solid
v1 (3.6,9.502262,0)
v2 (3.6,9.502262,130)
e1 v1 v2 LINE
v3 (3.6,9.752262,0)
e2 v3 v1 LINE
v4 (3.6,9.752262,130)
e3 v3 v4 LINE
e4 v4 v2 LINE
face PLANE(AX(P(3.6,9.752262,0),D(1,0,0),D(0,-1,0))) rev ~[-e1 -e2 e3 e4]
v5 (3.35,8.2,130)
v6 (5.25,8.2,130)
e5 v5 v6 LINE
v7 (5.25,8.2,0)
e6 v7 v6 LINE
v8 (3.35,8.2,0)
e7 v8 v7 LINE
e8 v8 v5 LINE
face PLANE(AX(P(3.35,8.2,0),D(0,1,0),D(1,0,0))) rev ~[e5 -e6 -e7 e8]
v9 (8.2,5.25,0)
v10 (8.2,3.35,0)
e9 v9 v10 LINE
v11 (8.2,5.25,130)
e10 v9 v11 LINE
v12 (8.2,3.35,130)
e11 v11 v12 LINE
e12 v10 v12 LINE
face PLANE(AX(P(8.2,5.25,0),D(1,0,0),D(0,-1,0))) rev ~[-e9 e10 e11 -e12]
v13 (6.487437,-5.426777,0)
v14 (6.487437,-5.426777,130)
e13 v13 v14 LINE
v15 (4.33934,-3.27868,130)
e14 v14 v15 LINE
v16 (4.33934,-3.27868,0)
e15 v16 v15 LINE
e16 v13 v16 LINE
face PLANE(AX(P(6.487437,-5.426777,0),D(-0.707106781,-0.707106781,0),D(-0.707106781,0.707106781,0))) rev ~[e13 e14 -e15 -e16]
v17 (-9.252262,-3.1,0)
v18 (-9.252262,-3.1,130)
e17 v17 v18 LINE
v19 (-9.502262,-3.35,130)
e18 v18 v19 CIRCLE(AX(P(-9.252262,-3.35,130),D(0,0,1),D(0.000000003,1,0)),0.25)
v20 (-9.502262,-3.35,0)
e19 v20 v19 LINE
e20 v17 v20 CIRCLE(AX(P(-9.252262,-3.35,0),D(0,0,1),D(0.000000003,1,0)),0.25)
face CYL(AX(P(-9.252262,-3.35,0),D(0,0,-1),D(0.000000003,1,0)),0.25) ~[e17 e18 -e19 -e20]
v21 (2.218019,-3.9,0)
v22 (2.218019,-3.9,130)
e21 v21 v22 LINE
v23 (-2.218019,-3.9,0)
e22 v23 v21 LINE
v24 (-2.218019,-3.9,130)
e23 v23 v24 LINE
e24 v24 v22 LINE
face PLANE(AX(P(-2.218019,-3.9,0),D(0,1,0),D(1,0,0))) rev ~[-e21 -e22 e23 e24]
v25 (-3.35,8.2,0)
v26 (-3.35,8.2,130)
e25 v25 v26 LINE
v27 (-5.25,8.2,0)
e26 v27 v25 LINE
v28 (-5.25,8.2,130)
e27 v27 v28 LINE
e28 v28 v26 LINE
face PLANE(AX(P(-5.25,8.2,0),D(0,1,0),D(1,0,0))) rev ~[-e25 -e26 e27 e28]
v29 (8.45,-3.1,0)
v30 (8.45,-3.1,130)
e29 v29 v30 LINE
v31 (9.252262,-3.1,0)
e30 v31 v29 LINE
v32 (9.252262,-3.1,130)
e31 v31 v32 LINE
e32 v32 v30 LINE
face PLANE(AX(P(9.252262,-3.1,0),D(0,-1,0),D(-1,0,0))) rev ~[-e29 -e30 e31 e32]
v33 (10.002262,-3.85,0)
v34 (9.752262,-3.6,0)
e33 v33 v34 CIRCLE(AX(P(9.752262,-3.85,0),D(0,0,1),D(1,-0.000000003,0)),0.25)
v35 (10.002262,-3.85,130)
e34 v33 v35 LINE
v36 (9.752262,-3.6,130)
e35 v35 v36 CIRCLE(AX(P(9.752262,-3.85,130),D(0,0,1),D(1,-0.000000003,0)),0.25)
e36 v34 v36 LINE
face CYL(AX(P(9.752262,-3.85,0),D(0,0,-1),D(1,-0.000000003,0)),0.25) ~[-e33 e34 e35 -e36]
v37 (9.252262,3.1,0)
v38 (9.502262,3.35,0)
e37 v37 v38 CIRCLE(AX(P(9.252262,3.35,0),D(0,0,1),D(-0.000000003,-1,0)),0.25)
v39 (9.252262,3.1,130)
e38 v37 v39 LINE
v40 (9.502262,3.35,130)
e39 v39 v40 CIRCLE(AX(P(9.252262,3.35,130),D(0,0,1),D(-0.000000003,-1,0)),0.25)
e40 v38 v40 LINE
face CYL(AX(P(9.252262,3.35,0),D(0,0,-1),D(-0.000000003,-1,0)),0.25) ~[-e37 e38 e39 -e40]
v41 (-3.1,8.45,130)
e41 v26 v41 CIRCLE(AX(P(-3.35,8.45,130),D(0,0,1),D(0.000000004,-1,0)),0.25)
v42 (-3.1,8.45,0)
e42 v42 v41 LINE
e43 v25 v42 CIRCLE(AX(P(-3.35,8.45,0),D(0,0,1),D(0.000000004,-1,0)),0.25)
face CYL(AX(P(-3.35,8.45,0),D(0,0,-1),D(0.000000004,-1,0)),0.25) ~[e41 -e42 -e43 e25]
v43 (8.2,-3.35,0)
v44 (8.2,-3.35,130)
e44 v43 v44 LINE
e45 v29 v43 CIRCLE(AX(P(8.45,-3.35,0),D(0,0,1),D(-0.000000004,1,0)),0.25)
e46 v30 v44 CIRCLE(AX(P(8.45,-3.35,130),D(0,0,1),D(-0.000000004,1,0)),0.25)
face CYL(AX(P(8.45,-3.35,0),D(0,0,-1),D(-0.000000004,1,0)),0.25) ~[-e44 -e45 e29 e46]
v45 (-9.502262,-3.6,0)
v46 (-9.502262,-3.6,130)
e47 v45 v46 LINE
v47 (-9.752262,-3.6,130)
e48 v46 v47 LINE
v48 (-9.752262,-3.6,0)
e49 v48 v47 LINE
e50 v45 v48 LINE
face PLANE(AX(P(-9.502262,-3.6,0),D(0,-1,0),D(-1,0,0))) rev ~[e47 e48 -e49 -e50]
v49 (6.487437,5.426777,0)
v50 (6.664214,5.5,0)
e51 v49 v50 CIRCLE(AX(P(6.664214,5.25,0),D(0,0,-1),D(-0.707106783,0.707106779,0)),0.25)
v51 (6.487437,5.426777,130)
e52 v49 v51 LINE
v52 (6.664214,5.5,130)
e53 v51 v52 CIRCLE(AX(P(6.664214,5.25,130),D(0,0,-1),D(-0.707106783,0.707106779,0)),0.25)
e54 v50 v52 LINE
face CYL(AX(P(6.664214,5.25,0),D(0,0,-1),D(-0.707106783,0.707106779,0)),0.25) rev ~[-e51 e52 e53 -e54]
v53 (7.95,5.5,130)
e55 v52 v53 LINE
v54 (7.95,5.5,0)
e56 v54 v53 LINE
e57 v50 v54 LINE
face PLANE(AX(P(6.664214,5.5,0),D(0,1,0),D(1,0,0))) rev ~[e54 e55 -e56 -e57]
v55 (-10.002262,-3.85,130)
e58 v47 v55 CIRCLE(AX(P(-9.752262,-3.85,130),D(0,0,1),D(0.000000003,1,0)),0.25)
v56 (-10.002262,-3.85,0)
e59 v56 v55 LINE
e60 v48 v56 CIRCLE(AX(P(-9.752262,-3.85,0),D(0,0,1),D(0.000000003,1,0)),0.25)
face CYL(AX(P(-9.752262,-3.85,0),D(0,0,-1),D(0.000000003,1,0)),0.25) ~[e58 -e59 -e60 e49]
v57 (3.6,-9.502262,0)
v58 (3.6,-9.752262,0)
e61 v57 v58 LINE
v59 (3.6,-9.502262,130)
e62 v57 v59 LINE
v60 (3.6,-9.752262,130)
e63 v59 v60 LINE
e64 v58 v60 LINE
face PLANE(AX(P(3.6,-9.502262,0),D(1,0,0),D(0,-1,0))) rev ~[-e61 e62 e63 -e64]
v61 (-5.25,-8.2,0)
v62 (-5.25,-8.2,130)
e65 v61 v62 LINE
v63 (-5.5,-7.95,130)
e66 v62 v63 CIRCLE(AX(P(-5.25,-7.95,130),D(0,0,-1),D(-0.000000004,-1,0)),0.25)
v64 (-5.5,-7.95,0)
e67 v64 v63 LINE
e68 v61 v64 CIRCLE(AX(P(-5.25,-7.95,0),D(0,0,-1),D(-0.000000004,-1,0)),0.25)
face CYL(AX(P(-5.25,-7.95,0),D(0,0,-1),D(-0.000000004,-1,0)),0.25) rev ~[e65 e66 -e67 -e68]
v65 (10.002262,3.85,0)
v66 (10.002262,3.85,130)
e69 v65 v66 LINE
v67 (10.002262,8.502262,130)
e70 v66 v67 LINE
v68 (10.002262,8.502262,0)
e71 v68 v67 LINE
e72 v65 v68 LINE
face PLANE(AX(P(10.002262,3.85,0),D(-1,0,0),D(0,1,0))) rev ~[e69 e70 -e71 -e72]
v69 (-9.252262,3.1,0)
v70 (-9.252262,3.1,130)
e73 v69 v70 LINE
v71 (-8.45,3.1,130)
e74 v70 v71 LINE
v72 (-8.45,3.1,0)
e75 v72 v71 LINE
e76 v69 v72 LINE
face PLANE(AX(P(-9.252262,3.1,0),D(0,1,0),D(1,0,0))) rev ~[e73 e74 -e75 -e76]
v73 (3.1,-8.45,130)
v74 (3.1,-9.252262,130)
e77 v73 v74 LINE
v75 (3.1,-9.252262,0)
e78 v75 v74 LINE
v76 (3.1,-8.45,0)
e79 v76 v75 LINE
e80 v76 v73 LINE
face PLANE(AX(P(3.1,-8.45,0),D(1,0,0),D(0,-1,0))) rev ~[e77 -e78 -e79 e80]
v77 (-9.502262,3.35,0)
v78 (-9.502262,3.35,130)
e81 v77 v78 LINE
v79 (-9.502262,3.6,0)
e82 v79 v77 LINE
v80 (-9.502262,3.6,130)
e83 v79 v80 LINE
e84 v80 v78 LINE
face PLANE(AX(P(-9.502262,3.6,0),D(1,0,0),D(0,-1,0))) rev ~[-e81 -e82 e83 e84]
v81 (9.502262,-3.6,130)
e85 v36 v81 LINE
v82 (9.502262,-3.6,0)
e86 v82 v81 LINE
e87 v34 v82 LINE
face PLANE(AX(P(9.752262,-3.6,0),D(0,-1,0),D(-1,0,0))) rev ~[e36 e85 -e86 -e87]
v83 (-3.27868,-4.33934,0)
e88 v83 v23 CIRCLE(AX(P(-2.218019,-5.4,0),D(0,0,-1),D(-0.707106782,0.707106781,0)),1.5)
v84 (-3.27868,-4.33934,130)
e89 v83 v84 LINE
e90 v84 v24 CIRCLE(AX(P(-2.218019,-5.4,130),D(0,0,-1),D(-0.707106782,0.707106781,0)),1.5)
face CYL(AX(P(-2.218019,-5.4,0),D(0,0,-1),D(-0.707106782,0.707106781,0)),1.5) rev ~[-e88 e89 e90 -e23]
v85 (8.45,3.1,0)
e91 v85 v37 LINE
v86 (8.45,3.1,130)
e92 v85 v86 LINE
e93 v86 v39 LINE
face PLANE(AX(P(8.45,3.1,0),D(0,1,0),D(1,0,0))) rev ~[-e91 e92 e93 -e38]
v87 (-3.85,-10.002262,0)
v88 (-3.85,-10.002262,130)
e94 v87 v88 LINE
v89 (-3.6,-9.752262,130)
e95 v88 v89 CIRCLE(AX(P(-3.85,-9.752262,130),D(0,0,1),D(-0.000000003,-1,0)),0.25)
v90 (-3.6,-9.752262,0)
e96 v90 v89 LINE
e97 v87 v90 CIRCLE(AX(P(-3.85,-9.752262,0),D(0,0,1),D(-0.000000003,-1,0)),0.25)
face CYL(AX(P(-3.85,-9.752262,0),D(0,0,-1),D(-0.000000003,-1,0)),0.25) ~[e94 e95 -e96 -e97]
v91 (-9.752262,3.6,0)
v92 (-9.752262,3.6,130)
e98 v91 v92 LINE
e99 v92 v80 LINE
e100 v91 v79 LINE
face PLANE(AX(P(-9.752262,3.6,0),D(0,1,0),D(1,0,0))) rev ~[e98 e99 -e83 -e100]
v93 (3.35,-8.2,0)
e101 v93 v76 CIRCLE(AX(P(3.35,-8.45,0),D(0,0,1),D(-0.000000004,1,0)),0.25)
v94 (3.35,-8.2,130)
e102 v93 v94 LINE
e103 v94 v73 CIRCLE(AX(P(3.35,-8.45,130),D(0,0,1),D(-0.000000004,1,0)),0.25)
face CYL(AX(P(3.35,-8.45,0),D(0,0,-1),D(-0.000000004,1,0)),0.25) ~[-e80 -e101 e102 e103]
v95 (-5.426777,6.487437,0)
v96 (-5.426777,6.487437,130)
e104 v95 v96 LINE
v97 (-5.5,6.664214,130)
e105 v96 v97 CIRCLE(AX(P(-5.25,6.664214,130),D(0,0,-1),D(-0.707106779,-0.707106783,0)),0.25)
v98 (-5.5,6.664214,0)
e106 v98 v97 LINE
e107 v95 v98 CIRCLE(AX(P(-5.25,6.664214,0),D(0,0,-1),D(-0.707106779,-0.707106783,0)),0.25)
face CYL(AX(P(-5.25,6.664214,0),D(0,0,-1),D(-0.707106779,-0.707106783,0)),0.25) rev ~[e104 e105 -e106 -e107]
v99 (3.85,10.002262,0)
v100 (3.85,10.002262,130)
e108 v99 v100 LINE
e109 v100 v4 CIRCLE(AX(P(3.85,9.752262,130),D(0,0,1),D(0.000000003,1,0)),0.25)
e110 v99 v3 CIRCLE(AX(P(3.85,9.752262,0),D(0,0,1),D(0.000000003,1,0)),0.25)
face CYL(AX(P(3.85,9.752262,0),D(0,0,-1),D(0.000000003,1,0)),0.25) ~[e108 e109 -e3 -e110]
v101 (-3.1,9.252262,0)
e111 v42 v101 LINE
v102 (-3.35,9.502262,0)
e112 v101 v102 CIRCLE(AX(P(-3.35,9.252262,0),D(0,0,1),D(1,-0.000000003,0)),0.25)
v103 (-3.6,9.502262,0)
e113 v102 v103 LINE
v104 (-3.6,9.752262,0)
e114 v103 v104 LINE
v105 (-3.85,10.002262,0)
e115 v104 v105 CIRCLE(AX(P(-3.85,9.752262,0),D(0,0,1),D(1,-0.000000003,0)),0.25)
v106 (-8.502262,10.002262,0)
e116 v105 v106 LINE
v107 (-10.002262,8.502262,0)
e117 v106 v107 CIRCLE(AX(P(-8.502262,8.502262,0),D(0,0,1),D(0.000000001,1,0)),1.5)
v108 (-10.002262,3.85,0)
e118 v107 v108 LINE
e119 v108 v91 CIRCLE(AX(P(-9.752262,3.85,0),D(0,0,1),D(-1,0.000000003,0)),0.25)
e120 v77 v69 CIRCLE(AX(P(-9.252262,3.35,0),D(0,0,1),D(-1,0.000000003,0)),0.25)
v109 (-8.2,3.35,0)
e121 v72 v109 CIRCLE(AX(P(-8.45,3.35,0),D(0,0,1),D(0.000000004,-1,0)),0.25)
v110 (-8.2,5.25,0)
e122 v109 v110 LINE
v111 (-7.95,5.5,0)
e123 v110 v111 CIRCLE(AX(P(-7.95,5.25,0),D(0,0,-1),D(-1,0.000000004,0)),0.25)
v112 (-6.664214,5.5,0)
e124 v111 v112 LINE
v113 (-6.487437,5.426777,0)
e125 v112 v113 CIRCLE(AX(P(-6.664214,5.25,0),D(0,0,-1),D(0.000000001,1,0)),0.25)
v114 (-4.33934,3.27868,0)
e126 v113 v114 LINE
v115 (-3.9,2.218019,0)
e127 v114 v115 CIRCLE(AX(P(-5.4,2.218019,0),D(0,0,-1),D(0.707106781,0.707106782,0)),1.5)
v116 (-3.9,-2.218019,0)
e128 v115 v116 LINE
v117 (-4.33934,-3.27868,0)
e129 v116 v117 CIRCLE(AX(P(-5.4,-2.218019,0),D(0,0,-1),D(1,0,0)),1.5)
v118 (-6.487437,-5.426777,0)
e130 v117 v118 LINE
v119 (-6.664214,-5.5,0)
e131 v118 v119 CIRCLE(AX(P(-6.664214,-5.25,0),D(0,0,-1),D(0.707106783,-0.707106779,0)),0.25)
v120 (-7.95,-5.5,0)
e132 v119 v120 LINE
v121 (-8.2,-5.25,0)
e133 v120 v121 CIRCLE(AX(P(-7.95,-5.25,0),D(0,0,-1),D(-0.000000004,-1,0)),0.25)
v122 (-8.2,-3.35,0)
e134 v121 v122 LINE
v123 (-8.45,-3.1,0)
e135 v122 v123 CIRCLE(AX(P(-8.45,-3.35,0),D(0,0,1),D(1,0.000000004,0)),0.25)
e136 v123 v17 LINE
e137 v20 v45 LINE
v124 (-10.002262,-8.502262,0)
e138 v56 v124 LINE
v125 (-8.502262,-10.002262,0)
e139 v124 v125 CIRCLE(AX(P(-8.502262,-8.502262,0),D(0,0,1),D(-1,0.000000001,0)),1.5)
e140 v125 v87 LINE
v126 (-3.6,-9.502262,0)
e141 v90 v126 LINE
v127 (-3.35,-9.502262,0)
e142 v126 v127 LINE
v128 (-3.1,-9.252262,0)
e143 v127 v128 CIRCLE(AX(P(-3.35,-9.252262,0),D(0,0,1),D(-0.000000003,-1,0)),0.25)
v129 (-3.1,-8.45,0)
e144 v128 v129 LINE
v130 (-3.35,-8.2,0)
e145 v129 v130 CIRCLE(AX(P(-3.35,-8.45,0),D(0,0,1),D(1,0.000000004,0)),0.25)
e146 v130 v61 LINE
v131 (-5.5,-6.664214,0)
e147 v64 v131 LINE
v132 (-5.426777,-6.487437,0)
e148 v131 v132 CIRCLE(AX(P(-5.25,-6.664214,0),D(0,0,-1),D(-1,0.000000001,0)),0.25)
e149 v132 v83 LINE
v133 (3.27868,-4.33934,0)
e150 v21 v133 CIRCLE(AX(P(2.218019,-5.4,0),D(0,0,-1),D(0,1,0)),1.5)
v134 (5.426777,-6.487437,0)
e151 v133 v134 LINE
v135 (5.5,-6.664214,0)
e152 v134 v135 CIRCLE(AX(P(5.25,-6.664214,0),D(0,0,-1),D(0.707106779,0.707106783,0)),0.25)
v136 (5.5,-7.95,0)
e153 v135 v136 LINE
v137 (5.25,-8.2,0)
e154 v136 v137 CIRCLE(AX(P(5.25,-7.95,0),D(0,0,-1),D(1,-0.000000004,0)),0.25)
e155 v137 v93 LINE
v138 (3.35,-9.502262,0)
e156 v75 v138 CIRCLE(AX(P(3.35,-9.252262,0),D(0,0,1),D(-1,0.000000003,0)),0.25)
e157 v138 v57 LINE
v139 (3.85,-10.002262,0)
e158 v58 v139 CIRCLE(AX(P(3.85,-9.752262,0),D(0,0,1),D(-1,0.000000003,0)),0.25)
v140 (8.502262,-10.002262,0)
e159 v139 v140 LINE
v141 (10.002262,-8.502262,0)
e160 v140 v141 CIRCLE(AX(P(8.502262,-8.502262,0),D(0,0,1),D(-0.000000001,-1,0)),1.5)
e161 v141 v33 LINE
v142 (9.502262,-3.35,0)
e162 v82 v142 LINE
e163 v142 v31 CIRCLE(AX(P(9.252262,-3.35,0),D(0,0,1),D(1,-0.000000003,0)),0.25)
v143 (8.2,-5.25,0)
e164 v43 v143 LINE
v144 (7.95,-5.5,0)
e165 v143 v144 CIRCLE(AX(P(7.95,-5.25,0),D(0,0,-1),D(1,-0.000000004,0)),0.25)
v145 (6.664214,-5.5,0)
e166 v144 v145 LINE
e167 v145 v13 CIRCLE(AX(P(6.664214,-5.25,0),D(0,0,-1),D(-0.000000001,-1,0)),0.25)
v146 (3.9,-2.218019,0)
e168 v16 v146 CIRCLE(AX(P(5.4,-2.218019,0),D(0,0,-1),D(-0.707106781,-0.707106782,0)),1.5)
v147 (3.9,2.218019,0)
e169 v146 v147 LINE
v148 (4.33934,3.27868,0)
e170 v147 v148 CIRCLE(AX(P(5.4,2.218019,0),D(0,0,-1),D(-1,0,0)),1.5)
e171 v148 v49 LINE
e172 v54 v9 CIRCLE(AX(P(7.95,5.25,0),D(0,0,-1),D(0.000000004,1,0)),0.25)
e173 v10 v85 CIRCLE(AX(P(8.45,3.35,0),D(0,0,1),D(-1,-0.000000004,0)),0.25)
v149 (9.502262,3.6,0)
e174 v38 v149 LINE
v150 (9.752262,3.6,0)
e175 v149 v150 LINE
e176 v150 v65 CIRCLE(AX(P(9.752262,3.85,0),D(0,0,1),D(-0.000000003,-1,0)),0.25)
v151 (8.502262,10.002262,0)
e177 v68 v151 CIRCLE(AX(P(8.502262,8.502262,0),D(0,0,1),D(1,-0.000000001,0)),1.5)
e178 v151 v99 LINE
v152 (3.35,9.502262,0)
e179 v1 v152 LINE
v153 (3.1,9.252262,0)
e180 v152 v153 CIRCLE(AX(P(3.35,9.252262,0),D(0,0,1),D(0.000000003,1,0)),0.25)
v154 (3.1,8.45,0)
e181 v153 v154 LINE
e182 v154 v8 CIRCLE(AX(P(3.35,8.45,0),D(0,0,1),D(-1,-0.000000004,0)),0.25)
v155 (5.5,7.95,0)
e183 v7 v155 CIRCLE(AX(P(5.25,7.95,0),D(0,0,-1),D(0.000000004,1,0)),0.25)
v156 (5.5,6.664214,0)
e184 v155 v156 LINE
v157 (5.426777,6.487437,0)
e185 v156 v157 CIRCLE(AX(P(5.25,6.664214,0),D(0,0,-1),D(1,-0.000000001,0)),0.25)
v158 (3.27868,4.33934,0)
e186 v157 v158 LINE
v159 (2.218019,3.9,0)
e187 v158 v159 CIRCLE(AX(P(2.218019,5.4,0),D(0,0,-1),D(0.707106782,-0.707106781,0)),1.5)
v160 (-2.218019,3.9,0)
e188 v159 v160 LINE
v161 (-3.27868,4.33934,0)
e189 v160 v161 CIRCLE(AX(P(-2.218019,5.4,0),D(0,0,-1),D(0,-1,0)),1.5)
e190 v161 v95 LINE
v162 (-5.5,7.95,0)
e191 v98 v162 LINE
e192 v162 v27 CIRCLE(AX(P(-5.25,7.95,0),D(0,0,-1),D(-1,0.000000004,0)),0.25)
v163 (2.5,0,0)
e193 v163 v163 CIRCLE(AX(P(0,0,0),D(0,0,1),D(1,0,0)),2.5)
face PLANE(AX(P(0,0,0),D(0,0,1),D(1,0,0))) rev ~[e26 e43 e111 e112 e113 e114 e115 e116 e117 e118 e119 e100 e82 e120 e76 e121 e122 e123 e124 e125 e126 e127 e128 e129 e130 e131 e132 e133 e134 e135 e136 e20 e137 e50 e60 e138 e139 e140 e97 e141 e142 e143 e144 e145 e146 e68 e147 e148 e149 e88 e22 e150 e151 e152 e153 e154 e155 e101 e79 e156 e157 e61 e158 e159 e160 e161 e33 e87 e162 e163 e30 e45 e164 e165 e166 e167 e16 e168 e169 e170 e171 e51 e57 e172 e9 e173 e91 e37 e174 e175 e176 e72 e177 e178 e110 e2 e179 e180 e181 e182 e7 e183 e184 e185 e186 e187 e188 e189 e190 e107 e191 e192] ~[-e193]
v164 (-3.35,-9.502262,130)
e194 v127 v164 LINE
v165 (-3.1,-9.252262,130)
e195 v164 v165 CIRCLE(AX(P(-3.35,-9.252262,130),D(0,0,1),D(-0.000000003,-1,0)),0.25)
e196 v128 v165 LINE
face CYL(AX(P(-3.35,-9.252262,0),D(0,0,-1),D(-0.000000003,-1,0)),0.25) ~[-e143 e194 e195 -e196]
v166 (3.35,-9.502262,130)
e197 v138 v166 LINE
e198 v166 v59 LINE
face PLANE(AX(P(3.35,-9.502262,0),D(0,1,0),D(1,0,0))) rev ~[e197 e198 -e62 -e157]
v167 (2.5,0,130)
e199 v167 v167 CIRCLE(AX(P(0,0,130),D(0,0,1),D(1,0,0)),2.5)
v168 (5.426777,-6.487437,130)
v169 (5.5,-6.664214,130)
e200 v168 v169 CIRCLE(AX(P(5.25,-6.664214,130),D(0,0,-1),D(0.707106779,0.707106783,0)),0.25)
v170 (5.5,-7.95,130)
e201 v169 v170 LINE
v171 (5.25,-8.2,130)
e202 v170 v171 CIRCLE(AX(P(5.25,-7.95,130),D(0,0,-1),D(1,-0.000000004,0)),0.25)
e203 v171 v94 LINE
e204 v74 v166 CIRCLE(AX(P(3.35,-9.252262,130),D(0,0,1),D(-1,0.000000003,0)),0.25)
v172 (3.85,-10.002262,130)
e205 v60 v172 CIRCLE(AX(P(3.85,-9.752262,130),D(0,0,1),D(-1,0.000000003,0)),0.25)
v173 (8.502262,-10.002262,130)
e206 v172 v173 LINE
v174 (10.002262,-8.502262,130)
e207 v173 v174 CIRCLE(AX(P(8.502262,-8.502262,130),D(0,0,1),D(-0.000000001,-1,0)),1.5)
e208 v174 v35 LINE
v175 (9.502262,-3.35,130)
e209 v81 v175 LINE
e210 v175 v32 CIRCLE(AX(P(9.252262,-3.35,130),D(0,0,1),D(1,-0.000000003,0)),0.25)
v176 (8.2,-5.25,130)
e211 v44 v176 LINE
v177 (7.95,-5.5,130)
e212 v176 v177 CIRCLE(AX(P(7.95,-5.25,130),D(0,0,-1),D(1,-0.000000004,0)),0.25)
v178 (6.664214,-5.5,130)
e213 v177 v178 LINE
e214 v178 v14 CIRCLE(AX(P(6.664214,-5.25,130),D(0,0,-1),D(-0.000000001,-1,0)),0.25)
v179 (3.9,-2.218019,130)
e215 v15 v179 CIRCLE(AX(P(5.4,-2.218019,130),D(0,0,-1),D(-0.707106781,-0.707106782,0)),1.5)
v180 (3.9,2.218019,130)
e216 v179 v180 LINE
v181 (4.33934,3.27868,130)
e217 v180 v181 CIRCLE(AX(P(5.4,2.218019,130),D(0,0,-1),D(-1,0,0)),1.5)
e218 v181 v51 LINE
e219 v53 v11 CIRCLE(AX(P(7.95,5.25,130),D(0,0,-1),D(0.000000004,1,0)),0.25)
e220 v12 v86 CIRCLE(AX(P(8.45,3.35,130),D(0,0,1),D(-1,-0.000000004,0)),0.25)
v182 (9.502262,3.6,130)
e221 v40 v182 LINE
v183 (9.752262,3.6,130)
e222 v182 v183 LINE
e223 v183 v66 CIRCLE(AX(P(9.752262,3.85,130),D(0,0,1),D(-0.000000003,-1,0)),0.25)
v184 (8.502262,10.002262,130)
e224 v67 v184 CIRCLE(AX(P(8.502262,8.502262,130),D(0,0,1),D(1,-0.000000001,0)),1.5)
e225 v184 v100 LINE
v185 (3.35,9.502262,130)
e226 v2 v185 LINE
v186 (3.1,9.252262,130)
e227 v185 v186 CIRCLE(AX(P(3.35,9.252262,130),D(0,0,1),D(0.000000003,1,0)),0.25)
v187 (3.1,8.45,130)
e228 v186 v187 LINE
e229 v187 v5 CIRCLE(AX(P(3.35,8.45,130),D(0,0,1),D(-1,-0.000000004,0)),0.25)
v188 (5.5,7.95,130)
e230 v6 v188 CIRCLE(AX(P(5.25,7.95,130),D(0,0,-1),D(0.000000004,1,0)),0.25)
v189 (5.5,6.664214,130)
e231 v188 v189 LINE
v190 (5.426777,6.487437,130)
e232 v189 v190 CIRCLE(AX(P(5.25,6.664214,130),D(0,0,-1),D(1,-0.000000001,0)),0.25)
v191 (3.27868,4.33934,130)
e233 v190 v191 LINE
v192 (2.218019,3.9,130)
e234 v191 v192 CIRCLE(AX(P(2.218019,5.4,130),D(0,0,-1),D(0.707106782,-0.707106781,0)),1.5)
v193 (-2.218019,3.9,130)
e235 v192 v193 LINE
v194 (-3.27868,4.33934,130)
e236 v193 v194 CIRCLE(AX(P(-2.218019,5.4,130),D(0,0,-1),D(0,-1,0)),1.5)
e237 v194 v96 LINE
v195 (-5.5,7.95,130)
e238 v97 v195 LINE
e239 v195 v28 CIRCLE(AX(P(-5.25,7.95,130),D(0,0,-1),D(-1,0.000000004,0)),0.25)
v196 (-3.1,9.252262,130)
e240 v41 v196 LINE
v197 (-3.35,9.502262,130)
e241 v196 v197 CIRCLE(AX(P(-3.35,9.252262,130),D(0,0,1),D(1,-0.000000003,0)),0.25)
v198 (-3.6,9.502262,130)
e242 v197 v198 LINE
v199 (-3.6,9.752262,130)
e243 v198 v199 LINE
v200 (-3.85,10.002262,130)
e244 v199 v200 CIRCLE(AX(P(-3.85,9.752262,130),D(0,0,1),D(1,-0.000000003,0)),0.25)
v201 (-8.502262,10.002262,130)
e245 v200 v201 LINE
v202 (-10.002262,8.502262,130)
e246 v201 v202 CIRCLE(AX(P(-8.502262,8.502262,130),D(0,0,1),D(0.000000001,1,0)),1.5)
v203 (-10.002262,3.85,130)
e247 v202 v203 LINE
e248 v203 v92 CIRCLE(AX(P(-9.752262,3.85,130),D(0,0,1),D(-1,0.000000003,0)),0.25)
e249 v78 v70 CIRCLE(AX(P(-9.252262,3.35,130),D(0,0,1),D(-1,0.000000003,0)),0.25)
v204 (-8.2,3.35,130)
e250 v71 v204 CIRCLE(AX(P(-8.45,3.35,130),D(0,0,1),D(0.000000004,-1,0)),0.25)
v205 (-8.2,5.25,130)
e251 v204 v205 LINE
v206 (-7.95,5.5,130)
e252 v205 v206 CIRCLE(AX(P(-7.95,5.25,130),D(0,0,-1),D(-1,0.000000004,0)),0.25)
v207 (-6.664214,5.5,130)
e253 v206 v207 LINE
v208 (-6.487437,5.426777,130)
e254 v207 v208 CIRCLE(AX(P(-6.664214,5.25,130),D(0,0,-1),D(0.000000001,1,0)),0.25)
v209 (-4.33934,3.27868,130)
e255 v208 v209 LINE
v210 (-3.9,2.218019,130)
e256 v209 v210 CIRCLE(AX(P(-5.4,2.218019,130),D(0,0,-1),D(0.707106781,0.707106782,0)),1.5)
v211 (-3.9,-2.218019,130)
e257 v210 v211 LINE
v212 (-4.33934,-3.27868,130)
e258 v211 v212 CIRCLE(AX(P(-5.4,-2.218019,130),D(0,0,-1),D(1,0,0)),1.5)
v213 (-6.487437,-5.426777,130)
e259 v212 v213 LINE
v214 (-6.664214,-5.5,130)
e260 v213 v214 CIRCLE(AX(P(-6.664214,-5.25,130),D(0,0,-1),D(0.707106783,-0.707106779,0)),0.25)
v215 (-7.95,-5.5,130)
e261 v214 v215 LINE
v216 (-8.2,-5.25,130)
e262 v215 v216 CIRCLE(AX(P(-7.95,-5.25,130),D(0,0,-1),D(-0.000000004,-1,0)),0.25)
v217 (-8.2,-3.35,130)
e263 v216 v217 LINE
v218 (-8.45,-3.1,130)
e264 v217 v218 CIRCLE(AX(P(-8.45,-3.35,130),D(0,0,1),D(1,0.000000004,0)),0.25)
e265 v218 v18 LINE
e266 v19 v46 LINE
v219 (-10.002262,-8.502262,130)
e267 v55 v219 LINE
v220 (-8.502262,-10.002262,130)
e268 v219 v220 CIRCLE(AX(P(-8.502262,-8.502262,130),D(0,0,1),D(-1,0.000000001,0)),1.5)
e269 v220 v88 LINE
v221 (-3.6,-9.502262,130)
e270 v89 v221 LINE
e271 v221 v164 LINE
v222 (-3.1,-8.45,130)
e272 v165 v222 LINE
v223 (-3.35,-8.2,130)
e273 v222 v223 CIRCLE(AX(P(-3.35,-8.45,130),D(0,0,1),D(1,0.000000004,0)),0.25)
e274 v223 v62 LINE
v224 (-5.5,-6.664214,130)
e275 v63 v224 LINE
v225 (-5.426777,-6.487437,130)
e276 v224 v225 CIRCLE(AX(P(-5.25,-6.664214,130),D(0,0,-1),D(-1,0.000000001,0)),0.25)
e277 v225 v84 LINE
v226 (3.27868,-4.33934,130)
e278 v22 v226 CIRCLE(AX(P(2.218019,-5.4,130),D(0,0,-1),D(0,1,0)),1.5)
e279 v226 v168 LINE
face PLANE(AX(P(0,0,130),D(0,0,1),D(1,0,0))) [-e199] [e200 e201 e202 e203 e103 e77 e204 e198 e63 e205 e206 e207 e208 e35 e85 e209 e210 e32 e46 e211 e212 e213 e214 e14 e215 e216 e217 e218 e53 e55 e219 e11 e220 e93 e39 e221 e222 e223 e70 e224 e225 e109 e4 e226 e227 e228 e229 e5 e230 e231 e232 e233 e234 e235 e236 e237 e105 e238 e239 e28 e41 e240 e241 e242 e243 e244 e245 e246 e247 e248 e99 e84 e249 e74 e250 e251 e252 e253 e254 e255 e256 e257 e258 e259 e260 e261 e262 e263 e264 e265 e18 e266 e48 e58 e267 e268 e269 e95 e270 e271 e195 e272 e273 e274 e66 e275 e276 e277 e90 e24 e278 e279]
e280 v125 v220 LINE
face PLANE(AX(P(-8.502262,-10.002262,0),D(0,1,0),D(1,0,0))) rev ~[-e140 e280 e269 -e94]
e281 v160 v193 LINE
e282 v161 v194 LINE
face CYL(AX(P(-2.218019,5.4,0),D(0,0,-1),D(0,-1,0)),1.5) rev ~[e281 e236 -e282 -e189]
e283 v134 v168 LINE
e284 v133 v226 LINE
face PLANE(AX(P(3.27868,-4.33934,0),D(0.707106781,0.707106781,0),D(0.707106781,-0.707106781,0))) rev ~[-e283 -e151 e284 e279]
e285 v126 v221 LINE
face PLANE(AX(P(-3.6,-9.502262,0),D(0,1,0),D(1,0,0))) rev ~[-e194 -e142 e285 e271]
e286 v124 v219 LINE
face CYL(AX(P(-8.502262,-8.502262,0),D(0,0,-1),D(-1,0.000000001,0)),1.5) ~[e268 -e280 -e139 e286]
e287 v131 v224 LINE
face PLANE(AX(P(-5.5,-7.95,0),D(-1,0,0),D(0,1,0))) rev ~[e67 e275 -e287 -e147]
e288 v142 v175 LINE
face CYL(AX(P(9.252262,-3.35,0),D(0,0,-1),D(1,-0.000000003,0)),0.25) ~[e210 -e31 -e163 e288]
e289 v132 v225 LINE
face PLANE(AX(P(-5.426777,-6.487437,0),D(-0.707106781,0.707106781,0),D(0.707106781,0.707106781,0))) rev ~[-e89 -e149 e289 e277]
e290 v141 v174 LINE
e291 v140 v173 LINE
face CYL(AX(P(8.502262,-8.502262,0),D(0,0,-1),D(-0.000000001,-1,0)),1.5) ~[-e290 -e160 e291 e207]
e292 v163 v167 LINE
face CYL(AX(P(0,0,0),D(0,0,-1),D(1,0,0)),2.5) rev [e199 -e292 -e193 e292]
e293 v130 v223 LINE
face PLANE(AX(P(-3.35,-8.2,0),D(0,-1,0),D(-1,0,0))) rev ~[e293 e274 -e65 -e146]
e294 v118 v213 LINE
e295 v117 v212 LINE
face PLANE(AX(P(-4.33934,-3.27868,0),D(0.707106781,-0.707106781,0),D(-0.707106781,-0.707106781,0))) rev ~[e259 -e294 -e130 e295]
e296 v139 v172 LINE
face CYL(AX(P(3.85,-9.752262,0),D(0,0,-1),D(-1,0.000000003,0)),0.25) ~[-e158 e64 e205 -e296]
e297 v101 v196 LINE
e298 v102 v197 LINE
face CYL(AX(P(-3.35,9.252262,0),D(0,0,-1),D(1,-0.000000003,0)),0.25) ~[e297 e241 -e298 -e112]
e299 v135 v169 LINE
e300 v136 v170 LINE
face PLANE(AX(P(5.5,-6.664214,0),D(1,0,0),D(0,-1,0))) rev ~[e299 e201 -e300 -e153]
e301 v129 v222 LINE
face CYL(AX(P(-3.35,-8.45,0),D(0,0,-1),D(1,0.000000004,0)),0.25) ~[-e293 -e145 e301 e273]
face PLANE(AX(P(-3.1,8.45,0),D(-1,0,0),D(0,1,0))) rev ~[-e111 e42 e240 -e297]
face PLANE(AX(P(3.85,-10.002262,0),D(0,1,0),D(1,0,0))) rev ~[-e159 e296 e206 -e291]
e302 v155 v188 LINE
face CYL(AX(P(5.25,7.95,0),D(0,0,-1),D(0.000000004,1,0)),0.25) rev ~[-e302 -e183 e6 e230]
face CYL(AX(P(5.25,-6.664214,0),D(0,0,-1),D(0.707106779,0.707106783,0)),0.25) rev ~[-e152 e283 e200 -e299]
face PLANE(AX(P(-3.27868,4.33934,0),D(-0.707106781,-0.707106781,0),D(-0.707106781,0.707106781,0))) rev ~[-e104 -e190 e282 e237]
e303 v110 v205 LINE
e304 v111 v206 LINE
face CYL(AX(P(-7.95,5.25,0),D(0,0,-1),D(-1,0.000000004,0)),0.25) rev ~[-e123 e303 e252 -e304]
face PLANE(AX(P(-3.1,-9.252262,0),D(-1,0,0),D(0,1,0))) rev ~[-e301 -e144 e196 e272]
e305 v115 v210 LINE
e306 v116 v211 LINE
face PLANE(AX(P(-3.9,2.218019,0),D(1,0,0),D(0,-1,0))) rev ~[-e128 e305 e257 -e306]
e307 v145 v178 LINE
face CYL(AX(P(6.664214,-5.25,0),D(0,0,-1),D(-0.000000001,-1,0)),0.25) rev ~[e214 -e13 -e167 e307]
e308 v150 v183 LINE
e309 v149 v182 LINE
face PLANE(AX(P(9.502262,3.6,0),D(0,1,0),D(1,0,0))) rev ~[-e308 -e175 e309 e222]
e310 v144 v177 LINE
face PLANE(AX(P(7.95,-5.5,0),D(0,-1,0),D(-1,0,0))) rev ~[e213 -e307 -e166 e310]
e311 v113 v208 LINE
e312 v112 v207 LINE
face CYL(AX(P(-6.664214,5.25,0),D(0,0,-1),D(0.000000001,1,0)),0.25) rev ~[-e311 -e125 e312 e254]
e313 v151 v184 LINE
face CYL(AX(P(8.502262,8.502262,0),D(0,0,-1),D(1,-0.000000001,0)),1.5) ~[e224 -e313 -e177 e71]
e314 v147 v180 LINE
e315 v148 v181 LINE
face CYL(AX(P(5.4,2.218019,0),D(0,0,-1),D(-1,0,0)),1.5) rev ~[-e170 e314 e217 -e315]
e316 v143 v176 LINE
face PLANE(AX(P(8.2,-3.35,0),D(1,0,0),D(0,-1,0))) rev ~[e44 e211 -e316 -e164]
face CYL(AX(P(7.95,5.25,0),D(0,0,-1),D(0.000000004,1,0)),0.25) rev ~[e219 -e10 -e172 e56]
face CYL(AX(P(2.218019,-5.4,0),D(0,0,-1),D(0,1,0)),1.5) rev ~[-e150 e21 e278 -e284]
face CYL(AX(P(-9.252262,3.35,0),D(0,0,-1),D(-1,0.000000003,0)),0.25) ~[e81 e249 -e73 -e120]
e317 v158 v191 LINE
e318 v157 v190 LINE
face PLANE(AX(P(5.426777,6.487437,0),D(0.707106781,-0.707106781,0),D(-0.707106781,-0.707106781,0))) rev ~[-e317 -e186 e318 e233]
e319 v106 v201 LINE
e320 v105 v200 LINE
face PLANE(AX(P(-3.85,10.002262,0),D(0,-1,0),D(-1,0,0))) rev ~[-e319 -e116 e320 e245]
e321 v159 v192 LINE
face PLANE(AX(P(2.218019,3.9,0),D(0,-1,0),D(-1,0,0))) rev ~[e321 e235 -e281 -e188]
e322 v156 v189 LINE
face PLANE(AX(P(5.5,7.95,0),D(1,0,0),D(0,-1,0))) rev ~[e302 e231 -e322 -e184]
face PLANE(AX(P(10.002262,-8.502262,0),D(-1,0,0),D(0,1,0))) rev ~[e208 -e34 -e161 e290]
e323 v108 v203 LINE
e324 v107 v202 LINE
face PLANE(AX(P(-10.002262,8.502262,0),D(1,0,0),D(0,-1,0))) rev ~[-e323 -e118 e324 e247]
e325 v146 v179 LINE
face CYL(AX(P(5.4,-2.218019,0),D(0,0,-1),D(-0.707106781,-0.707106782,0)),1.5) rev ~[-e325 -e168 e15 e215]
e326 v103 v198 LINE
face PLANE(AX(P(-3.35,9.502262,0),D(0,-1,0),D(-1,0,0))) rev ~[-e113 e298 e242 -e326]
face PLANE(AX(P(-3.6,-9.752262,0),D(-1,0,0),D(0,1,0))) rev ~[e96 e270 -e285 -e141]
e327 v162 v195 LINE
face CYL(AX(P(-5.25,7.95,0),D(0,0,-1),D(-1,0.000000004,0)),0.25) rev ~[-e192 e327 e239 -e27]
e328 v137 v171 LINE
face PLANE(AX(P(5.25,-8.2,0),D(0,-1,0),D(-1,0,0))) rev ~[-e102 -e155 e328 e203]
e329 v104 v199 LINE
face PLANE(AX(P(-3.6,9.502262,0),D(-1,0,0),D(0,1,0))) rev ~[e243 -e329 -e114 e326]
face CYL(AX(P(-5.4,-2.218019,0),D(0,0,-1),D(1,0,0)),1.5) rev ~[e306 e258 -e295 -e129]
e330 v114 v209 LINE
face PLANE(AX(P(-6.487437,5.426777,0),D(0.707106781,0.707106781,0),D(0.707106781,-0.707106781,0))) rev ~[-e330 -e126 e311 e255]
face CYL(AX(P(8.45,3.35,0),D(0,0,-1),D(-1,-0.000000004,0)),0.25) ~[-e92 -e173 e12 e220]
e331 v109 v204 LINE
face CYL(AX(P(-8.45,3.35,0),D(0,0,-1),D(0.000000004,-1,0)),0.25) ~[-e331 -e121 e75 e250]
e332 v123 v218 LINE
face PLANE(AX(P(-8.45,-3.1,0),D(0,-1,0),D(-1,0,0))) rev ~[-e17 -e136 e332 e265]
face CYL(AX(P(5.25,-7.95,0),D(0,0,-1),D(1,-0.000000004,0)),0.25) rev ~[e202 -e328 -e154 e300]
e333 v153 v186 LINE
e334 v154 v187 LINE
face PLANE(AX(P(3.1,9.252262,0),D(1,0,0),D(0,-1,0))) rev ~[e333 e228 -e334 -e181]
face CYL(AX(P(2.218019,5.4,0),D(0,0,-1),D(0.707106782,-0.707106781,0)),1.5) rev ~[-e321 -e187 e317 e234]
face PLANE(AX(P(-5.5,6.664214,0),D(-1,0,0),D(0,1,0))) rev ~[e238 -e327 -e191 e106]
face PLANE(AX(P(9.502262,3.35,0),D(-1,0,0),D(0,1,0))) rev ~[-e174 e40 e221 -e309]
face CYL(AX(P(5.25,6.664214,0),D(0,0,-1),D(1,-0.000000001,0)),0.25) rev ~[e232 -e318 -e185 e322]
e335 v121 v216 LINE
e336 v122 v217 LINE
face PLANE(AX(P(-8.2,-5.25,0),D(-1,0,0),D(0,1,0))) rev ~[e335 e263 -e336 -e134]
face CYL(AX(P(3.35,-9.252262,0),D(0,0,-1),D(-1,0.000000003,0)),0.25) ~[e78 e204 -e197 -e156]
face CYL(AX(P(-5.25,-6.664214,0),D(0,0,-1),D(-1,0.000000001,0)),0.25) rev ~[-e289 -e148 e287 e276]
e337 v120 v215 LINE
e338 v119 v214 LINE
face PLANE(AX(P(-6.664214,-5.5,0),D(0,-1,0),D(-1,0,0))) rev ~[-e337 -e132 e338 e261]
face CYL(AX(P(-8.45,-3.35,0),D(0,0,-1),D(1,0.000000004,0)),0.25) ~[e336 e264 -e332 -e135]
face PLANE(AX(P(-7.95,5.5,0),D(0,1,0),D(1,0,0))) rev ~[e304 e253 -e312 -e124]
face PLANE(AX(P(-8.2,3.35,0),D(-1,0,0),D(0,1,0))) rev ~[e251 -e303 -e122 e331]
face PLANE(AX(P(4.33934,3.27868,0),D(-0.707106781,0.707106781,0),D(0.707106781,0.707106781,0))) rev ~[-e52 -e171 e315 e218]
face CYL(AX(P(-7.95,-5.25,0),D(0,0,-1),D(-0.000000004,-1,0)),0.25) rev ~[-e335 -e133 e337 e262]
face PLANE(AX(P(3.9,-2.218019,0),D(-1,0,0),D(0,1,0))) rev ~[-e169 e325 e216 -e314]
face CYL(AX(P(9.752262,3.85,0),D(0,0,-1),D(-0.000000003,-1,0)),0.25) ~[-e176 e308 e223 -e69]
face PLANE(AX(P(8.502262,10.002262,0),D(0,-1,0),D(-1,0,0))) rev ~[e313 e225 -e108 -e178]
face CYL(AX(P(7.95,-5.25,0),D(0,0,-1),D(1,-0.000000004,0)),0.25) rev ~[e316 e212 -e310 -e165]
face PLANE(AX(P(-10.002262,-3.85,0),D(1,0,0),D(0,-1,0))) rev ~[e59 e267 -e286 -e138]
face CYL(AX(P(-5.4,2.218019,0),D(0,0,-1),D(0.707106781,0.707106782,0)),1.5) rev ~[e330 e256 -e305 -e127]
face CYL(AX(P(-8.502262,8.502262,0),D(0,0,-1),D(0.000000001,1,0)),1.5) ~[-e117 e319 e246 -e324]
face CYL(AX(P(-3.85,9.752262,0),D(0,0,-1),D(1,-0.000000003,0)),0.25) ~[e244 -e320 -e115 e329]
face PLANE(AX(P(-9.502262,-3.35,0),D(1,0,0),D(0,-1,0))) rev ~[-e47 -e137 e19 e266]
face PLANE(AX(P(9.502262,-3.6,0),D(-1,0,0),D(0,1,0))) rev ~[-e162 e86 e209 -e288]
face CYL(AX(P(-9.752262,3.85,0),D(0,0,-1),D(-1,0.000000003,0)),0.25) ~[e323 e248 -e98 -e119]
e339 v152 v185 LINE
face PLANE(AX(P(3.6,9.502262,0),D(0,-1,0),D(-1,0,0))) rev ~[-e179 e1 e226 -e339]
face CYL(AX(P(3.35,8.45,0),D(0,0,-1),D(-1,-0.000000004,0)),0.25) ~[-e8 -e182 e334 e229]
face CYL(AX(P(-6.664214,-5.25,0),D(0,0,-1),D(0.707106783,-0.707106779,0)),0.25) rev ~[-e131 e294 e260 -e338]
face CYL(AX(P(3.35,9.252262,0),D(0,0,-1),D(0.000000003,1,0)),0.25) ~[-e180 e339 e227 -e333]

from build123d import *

# Parameters (mm, degrees)
SKETCH_1_R      = 2.5
EXTRUDE_1_DEPTH = 130


with BuildPart() as part:
    # 草图1 → 凸台-拉伸1 (new body)
    with BuildSketch(Plane.XY):
        with BuildLine():
            Line((-8.502261885, -10.002261885), (-3.85, -10.002261885))
            ThreePointArc((-3.85, -10.002261885), (-3.673223305, -9.929038581), (-3.6, -9.752261885))
            Line((-3.6, -9.752261885), (-3.6, -9.502261885))
            Line((-3.6, -9.502261885), (-3.35, -9.502261885))
            ThreePointArc((-3.35, -9.502261885), (-3.173223305, -9.429038581), (-3.1, -9.252261885))
            Line((-3.1, -9.252261885), (-3.1, -8.45))
            ThreePointArc((-3.1, -8.45), (-3.173223305, -8.273223305), (-3.35, -8.2))
            Line((-3.35, -8.2), (-5.25, -8.2))
            ThreePointArc((-5.25, -8.2), (-5.426776695, -8.126776695), (-5.5, -7.95))
            Line((-5.5, -7.95), (-5.5, -6.664213562))
            ThreePointArc((-5.5, -6.664213562), (-5.480969883, -6.568542704), (-5.426776695, -6.487436867))
            Line((-5.426776695, -6.487436867), (-3.278679656, -4.339339828))
            ThreePointArc((-3.278679656, -4.339339828), (-2.792044633, -4.014180701), (-2.218019485, -3.9))
            Line((-2.218019485, -3.9), (2.218019485, -3.9))
            ThreePointArc((2.218019485, -3.9), (2.792044633, -4.014180701), (3.278679656, -4.339339828))
            Line((3.278679656, -4.339339828), (5.426776695, -6.487436867))
            ThreePointArc((5.426776695, -6.487436867), (5.480969883, -6.568542704), (5.5, -6.664213562))
            Line((5.5, -6.664213562), (5.5, -7.95))
            ThreePointArc((5.5, -7.95), (5.426776695, -8.126776695), (5.25, -8.2))
            Line((5.25, -8.2), (3.35, -8.2))
            ThreePointArc((3.35, -8.2), (3.173223305, -8.273223305), (3.1, -8.45))
            Line((3.1, -8.45), (3.1, -9.252261885))
            ThreePointArc((3.1, -9.252261885), (3.173223305, -9.429038581), (3.35, -9.502261885))
            Line((3.35, -9.502261885), (3.6, -9.502261885))
            Line((3.6, -9.502261885), (3.6, -9.752261885))
            ThreePointArc((3.6, -9.752261885), (3.673223305, -9.929038581), (3.85, -10.002261885))
            Line((3.85, -10.002261885), (8.502261885, -10.002261885))
            ThreePointArc((8.502261885, -10.002261885), (9.562922057, -9.562922057), (10.002261885, -8.502261885))
            Line((10.002261885, -8.502261885), (10.002261885, -3.85))
            ThreePointArc((10.002261885, -3.85), (9.929038581, -3.673223305), (9.752261885, -3.6))
            Line((9.752261885, -3.6), (9.502261885, -3.6))
            Line((9.502261885, -3.6), (9.502261885, -3.35))
            ThreePointArc((9.502261885, -3.35), (9.429038581, -3.173223305), (9.252261885, -3.1))
            Line((9.252261885, -3.1), (8.45, -3.1))
            ThreePointArc((8.45, -3.1), (8.273223305, -3.173223305), (8.2, -3.35))
            Line((8.2, -3.35), (8.2, -5.25))
            ThreePointArc((8.2, -5.25), (8.126776695, -5.426776695), (7.95, -5.5))
            Line((7.95, -5.5), (6.664213562, -5.5))
            ThreePointArc((6.664213562, -5.5), (6.568542704, -5.480969883), (6.487436867, -5.426776695))
            Line((6.487436867, -5.426776695), (4.339339828, -3.278679656))
            ThreePointArc((4.339339828, -3.278679656), (4.014180701, -2.792044633), (3.9, -2.218019485))
            Line((3.9, -2.218019485), (3.9, 2.218019485))
            ThreePointArc((3.9, 2.218019485), (4.014180701, 2.792044633), (4.339339828, 3.278679656))
            Line((4.339339828, 3.278679656), (6.487436867, 5.426776695))
            ThreePointArc((6.487436867, 5.426776695), (6.568542704, 5.480969883), (6.664213562, 5.5))
            Line((6.664213562, 5.5), (7.95, 5.5))
            ThreePointArc((7.95, 5.5), (8.126776695, 5.426776695), (8.2, 5.25))
            Line((8.2, 5.25), (8.2, 3.35))
            ThreePointArc((8.2, 3.35), (8.273223305, 3.173223305), (8.45, 3.1))
            Line((8.45, 3.1), (9.252261885, 3.1))
            ThreePointArc((9.252261885, 3.1), (9.429038581, 3.173223305), (9.502261885, 3.35))
            Line((9.502261885, 3.35), (9.502261885, 3.6))
            Line((9.502261885, 3.6), (9.752261885, 3.6))
            ThreePointArc((9.752261885, 3.6), (9.929038581, 3.673223305), (10.002261885, 3.85))
            Line((10.002261885, 3.85), (10.002261885, 8.502261885))
            ThreePointArc((10.002261885, 8.502261885), (9.562922057, 9.562922057), (8.502261885, 10.002261885))
            Line((8.502261885, 10.002261885), (3.85, 10.002261885))
            ThreePointArc((3.85, 10.002261885), (3.673223305, 9.929038581), (3.6, 9.752261885))
            Line((3.6, 9.752261885), (3.6, 9.502261885))
            Line((3.6, 9.502261885), (3.35, 9.502261885))
            ThreePointArc((3.35, 9.502261885), (3.173223305, 9.429038581), (3.1, 9.252261885))
            Line((3.1, 9.252261885), (3.1, 8.45))
            ThreePointArc((3.1, 8.45), (3.173223305, 8.273223305), (3.35, 8.2))
            Line((3.35, 8.2), (5.25, 8.2))
            ThreePointArc((5.25, 8.2), (5.426776695, 8.126776695), (5.5, 7.95))
            Line((5.5, 7.95), (5.5, 6.664213562))
            ThreePointArc((5.5, 6.664213562), (5.480969883, 6.568542704), (5.426776695, 6.487436867))
            Line((5.426776695, 6.487436867), (3.278679656, 4.339339828))
            ThreePointArc((3.278679656, 4.339339828), (2.792044633, 4.014180701), (2.218019485, 3.9))
            Line((2.218019485, 3.9), (-2.218019485, 3.9))
            ThreePointArc((-2.218019485, 3.9), (-2.792044633, 4.014180701), (-3.278679656, 4.339339828))
            Line((-3.278679656, 4.339339828), (-5.426776695, 6.487436867))
            ThreePointArc((-5.426776695, 6.487436867), (-5.480969883, 6.568542704), (-5.5, 6.664213562))
            Line((-5.5, 6.664213562), (-5.5, 7.95))
            ThreePointArc((-5.5, 7.95), (-5.426776695, 8.126776695), (-5.25, 8.2))
            Line((-5.25, 8.2), (-3.35, 8.2))
            ThreePointArc((-3.35, 8.2), (-3.173223305, 8.273223305), (-3.1, 8.45))
            Line((-3.1, 8.45), (-3.1, 9.252261885))
            ThreePointArc((-3.1, 9.252261885), (-3.173223305, 9.429038581), (-3.35, 9.502261885))
            Line((-3.35, 9.502261885), (-3.6, 9.502261885))
            Line((-3.6, 9.502261885), (-3.6, 9.752261885))
            ThreePointArc((-3.6, 9.752261885), (-3.673223305, 9.929038581), (-3.85, 10.002261885))
            Line((-3.85, 10.002261885), (-8.502261885, 10.002261885))
            ThreePointArc((-8.502261885, 10.002261885), (-9.562922057, 9.562922057), (-10.002261885, 8.502261885))
            Line((-10.002261885, 8.502261885), (-10.002261885, 3.85))
            ThreePointArc((-10.002261885, 3.85), (-9.929038581, 3.673223305), (-9.752261885, 3.6))
            Line((-9.752261885, 3.6), (-9.502261885, 3.6))
            Line((-9.502261885, 3.6), (-9.502261885, 3.35))
            ThreePointArc((-9.502261885, 3.35), (-9.429038581, 3.173223305), (-9.252261885, 3.1))
            Line((-9.252261885, 3.1), (-8.45, 3.1))
            ThreePointArc((-8.45, 3.1), (-8.273223305, 3.173223305), (-8.2, 3.35))
            Line((-8.2, 3.35), (-8.2, 5.25))
            ThreePointArc((-8.2, 5.25), (-8.126776695, 5.426776695), (-7.95, 5.5))
            Line((-7.95, 5.5), (-6.664213562, 5.5))
            ThreePointArc((-6.664213562, 5.5), (-6.568542704, 5.480969883), (-6.487436867, 5.426776695))
            Line((-6.487436867, 5.426776695), (-4.339339828, 3.278679656))
            ThreePointArc((-4.339339828, 3.278679656), (-4.014180701, 2.792044633), (-3.9, 2.218019485))
            Line((-3.9, 2.218019485), (-3.9, -2.218019485))
            ThreePointArc((-3.9, -2.218019485), (-4.014180701, -2.792044633), (-4.339339828, -3.278679656))
            Line((-4.339339828, -3.278679656), (-6.487436867, -5.426776695))
            ThreePointArc((-6.487436867, -5.426776695), (-6.568542704, -5.480969883), (-6.664213562, -5.5))
            Line((-6.664213562, -5.5), (-7.95, -5.5))
            ThreePointArc((-7.95, -5.5), (-8.126776695, -5.426776695), (-8.2, -5.25))
            Line((-8.2, -5.25), (-8.2, -3.35))
            ThreePointArc((-8.2, -3.35), (-8.273223305, -3.173223305), (-8.45, -3.1))
            Line((-8.45, -3.1), (-9.252261885, -3.1))
            ThreePointArc((-9.252261885, -3.1), (-9.429038581, -3.173223305), (-9.502261885, -3.35))
            Line((-9.502261885, -3.35), (-9.502261885, -3.6))
            Line((-9.502261885, -3.6), (-9.752261885, -3.6))
            ThreePointArc((-9.752261885, -3.6), (-9.929038581, -3.673223305), (-10.002261885, -3.85))
            Line((-10.002261885, -3.85), (-10.002261885, -8.502261885))
            ThreePointArc((-10.002261885, -8.502261885), (-9.562922057, -9.562922057), (-8.502261885, -10.002261885))
        make_face()
        Circle(SKETCH_1_R, mode=Mode.SUBTRACT)
    extrude(amount=EXTRUDE_1_DEPTH)


solid = part.part
